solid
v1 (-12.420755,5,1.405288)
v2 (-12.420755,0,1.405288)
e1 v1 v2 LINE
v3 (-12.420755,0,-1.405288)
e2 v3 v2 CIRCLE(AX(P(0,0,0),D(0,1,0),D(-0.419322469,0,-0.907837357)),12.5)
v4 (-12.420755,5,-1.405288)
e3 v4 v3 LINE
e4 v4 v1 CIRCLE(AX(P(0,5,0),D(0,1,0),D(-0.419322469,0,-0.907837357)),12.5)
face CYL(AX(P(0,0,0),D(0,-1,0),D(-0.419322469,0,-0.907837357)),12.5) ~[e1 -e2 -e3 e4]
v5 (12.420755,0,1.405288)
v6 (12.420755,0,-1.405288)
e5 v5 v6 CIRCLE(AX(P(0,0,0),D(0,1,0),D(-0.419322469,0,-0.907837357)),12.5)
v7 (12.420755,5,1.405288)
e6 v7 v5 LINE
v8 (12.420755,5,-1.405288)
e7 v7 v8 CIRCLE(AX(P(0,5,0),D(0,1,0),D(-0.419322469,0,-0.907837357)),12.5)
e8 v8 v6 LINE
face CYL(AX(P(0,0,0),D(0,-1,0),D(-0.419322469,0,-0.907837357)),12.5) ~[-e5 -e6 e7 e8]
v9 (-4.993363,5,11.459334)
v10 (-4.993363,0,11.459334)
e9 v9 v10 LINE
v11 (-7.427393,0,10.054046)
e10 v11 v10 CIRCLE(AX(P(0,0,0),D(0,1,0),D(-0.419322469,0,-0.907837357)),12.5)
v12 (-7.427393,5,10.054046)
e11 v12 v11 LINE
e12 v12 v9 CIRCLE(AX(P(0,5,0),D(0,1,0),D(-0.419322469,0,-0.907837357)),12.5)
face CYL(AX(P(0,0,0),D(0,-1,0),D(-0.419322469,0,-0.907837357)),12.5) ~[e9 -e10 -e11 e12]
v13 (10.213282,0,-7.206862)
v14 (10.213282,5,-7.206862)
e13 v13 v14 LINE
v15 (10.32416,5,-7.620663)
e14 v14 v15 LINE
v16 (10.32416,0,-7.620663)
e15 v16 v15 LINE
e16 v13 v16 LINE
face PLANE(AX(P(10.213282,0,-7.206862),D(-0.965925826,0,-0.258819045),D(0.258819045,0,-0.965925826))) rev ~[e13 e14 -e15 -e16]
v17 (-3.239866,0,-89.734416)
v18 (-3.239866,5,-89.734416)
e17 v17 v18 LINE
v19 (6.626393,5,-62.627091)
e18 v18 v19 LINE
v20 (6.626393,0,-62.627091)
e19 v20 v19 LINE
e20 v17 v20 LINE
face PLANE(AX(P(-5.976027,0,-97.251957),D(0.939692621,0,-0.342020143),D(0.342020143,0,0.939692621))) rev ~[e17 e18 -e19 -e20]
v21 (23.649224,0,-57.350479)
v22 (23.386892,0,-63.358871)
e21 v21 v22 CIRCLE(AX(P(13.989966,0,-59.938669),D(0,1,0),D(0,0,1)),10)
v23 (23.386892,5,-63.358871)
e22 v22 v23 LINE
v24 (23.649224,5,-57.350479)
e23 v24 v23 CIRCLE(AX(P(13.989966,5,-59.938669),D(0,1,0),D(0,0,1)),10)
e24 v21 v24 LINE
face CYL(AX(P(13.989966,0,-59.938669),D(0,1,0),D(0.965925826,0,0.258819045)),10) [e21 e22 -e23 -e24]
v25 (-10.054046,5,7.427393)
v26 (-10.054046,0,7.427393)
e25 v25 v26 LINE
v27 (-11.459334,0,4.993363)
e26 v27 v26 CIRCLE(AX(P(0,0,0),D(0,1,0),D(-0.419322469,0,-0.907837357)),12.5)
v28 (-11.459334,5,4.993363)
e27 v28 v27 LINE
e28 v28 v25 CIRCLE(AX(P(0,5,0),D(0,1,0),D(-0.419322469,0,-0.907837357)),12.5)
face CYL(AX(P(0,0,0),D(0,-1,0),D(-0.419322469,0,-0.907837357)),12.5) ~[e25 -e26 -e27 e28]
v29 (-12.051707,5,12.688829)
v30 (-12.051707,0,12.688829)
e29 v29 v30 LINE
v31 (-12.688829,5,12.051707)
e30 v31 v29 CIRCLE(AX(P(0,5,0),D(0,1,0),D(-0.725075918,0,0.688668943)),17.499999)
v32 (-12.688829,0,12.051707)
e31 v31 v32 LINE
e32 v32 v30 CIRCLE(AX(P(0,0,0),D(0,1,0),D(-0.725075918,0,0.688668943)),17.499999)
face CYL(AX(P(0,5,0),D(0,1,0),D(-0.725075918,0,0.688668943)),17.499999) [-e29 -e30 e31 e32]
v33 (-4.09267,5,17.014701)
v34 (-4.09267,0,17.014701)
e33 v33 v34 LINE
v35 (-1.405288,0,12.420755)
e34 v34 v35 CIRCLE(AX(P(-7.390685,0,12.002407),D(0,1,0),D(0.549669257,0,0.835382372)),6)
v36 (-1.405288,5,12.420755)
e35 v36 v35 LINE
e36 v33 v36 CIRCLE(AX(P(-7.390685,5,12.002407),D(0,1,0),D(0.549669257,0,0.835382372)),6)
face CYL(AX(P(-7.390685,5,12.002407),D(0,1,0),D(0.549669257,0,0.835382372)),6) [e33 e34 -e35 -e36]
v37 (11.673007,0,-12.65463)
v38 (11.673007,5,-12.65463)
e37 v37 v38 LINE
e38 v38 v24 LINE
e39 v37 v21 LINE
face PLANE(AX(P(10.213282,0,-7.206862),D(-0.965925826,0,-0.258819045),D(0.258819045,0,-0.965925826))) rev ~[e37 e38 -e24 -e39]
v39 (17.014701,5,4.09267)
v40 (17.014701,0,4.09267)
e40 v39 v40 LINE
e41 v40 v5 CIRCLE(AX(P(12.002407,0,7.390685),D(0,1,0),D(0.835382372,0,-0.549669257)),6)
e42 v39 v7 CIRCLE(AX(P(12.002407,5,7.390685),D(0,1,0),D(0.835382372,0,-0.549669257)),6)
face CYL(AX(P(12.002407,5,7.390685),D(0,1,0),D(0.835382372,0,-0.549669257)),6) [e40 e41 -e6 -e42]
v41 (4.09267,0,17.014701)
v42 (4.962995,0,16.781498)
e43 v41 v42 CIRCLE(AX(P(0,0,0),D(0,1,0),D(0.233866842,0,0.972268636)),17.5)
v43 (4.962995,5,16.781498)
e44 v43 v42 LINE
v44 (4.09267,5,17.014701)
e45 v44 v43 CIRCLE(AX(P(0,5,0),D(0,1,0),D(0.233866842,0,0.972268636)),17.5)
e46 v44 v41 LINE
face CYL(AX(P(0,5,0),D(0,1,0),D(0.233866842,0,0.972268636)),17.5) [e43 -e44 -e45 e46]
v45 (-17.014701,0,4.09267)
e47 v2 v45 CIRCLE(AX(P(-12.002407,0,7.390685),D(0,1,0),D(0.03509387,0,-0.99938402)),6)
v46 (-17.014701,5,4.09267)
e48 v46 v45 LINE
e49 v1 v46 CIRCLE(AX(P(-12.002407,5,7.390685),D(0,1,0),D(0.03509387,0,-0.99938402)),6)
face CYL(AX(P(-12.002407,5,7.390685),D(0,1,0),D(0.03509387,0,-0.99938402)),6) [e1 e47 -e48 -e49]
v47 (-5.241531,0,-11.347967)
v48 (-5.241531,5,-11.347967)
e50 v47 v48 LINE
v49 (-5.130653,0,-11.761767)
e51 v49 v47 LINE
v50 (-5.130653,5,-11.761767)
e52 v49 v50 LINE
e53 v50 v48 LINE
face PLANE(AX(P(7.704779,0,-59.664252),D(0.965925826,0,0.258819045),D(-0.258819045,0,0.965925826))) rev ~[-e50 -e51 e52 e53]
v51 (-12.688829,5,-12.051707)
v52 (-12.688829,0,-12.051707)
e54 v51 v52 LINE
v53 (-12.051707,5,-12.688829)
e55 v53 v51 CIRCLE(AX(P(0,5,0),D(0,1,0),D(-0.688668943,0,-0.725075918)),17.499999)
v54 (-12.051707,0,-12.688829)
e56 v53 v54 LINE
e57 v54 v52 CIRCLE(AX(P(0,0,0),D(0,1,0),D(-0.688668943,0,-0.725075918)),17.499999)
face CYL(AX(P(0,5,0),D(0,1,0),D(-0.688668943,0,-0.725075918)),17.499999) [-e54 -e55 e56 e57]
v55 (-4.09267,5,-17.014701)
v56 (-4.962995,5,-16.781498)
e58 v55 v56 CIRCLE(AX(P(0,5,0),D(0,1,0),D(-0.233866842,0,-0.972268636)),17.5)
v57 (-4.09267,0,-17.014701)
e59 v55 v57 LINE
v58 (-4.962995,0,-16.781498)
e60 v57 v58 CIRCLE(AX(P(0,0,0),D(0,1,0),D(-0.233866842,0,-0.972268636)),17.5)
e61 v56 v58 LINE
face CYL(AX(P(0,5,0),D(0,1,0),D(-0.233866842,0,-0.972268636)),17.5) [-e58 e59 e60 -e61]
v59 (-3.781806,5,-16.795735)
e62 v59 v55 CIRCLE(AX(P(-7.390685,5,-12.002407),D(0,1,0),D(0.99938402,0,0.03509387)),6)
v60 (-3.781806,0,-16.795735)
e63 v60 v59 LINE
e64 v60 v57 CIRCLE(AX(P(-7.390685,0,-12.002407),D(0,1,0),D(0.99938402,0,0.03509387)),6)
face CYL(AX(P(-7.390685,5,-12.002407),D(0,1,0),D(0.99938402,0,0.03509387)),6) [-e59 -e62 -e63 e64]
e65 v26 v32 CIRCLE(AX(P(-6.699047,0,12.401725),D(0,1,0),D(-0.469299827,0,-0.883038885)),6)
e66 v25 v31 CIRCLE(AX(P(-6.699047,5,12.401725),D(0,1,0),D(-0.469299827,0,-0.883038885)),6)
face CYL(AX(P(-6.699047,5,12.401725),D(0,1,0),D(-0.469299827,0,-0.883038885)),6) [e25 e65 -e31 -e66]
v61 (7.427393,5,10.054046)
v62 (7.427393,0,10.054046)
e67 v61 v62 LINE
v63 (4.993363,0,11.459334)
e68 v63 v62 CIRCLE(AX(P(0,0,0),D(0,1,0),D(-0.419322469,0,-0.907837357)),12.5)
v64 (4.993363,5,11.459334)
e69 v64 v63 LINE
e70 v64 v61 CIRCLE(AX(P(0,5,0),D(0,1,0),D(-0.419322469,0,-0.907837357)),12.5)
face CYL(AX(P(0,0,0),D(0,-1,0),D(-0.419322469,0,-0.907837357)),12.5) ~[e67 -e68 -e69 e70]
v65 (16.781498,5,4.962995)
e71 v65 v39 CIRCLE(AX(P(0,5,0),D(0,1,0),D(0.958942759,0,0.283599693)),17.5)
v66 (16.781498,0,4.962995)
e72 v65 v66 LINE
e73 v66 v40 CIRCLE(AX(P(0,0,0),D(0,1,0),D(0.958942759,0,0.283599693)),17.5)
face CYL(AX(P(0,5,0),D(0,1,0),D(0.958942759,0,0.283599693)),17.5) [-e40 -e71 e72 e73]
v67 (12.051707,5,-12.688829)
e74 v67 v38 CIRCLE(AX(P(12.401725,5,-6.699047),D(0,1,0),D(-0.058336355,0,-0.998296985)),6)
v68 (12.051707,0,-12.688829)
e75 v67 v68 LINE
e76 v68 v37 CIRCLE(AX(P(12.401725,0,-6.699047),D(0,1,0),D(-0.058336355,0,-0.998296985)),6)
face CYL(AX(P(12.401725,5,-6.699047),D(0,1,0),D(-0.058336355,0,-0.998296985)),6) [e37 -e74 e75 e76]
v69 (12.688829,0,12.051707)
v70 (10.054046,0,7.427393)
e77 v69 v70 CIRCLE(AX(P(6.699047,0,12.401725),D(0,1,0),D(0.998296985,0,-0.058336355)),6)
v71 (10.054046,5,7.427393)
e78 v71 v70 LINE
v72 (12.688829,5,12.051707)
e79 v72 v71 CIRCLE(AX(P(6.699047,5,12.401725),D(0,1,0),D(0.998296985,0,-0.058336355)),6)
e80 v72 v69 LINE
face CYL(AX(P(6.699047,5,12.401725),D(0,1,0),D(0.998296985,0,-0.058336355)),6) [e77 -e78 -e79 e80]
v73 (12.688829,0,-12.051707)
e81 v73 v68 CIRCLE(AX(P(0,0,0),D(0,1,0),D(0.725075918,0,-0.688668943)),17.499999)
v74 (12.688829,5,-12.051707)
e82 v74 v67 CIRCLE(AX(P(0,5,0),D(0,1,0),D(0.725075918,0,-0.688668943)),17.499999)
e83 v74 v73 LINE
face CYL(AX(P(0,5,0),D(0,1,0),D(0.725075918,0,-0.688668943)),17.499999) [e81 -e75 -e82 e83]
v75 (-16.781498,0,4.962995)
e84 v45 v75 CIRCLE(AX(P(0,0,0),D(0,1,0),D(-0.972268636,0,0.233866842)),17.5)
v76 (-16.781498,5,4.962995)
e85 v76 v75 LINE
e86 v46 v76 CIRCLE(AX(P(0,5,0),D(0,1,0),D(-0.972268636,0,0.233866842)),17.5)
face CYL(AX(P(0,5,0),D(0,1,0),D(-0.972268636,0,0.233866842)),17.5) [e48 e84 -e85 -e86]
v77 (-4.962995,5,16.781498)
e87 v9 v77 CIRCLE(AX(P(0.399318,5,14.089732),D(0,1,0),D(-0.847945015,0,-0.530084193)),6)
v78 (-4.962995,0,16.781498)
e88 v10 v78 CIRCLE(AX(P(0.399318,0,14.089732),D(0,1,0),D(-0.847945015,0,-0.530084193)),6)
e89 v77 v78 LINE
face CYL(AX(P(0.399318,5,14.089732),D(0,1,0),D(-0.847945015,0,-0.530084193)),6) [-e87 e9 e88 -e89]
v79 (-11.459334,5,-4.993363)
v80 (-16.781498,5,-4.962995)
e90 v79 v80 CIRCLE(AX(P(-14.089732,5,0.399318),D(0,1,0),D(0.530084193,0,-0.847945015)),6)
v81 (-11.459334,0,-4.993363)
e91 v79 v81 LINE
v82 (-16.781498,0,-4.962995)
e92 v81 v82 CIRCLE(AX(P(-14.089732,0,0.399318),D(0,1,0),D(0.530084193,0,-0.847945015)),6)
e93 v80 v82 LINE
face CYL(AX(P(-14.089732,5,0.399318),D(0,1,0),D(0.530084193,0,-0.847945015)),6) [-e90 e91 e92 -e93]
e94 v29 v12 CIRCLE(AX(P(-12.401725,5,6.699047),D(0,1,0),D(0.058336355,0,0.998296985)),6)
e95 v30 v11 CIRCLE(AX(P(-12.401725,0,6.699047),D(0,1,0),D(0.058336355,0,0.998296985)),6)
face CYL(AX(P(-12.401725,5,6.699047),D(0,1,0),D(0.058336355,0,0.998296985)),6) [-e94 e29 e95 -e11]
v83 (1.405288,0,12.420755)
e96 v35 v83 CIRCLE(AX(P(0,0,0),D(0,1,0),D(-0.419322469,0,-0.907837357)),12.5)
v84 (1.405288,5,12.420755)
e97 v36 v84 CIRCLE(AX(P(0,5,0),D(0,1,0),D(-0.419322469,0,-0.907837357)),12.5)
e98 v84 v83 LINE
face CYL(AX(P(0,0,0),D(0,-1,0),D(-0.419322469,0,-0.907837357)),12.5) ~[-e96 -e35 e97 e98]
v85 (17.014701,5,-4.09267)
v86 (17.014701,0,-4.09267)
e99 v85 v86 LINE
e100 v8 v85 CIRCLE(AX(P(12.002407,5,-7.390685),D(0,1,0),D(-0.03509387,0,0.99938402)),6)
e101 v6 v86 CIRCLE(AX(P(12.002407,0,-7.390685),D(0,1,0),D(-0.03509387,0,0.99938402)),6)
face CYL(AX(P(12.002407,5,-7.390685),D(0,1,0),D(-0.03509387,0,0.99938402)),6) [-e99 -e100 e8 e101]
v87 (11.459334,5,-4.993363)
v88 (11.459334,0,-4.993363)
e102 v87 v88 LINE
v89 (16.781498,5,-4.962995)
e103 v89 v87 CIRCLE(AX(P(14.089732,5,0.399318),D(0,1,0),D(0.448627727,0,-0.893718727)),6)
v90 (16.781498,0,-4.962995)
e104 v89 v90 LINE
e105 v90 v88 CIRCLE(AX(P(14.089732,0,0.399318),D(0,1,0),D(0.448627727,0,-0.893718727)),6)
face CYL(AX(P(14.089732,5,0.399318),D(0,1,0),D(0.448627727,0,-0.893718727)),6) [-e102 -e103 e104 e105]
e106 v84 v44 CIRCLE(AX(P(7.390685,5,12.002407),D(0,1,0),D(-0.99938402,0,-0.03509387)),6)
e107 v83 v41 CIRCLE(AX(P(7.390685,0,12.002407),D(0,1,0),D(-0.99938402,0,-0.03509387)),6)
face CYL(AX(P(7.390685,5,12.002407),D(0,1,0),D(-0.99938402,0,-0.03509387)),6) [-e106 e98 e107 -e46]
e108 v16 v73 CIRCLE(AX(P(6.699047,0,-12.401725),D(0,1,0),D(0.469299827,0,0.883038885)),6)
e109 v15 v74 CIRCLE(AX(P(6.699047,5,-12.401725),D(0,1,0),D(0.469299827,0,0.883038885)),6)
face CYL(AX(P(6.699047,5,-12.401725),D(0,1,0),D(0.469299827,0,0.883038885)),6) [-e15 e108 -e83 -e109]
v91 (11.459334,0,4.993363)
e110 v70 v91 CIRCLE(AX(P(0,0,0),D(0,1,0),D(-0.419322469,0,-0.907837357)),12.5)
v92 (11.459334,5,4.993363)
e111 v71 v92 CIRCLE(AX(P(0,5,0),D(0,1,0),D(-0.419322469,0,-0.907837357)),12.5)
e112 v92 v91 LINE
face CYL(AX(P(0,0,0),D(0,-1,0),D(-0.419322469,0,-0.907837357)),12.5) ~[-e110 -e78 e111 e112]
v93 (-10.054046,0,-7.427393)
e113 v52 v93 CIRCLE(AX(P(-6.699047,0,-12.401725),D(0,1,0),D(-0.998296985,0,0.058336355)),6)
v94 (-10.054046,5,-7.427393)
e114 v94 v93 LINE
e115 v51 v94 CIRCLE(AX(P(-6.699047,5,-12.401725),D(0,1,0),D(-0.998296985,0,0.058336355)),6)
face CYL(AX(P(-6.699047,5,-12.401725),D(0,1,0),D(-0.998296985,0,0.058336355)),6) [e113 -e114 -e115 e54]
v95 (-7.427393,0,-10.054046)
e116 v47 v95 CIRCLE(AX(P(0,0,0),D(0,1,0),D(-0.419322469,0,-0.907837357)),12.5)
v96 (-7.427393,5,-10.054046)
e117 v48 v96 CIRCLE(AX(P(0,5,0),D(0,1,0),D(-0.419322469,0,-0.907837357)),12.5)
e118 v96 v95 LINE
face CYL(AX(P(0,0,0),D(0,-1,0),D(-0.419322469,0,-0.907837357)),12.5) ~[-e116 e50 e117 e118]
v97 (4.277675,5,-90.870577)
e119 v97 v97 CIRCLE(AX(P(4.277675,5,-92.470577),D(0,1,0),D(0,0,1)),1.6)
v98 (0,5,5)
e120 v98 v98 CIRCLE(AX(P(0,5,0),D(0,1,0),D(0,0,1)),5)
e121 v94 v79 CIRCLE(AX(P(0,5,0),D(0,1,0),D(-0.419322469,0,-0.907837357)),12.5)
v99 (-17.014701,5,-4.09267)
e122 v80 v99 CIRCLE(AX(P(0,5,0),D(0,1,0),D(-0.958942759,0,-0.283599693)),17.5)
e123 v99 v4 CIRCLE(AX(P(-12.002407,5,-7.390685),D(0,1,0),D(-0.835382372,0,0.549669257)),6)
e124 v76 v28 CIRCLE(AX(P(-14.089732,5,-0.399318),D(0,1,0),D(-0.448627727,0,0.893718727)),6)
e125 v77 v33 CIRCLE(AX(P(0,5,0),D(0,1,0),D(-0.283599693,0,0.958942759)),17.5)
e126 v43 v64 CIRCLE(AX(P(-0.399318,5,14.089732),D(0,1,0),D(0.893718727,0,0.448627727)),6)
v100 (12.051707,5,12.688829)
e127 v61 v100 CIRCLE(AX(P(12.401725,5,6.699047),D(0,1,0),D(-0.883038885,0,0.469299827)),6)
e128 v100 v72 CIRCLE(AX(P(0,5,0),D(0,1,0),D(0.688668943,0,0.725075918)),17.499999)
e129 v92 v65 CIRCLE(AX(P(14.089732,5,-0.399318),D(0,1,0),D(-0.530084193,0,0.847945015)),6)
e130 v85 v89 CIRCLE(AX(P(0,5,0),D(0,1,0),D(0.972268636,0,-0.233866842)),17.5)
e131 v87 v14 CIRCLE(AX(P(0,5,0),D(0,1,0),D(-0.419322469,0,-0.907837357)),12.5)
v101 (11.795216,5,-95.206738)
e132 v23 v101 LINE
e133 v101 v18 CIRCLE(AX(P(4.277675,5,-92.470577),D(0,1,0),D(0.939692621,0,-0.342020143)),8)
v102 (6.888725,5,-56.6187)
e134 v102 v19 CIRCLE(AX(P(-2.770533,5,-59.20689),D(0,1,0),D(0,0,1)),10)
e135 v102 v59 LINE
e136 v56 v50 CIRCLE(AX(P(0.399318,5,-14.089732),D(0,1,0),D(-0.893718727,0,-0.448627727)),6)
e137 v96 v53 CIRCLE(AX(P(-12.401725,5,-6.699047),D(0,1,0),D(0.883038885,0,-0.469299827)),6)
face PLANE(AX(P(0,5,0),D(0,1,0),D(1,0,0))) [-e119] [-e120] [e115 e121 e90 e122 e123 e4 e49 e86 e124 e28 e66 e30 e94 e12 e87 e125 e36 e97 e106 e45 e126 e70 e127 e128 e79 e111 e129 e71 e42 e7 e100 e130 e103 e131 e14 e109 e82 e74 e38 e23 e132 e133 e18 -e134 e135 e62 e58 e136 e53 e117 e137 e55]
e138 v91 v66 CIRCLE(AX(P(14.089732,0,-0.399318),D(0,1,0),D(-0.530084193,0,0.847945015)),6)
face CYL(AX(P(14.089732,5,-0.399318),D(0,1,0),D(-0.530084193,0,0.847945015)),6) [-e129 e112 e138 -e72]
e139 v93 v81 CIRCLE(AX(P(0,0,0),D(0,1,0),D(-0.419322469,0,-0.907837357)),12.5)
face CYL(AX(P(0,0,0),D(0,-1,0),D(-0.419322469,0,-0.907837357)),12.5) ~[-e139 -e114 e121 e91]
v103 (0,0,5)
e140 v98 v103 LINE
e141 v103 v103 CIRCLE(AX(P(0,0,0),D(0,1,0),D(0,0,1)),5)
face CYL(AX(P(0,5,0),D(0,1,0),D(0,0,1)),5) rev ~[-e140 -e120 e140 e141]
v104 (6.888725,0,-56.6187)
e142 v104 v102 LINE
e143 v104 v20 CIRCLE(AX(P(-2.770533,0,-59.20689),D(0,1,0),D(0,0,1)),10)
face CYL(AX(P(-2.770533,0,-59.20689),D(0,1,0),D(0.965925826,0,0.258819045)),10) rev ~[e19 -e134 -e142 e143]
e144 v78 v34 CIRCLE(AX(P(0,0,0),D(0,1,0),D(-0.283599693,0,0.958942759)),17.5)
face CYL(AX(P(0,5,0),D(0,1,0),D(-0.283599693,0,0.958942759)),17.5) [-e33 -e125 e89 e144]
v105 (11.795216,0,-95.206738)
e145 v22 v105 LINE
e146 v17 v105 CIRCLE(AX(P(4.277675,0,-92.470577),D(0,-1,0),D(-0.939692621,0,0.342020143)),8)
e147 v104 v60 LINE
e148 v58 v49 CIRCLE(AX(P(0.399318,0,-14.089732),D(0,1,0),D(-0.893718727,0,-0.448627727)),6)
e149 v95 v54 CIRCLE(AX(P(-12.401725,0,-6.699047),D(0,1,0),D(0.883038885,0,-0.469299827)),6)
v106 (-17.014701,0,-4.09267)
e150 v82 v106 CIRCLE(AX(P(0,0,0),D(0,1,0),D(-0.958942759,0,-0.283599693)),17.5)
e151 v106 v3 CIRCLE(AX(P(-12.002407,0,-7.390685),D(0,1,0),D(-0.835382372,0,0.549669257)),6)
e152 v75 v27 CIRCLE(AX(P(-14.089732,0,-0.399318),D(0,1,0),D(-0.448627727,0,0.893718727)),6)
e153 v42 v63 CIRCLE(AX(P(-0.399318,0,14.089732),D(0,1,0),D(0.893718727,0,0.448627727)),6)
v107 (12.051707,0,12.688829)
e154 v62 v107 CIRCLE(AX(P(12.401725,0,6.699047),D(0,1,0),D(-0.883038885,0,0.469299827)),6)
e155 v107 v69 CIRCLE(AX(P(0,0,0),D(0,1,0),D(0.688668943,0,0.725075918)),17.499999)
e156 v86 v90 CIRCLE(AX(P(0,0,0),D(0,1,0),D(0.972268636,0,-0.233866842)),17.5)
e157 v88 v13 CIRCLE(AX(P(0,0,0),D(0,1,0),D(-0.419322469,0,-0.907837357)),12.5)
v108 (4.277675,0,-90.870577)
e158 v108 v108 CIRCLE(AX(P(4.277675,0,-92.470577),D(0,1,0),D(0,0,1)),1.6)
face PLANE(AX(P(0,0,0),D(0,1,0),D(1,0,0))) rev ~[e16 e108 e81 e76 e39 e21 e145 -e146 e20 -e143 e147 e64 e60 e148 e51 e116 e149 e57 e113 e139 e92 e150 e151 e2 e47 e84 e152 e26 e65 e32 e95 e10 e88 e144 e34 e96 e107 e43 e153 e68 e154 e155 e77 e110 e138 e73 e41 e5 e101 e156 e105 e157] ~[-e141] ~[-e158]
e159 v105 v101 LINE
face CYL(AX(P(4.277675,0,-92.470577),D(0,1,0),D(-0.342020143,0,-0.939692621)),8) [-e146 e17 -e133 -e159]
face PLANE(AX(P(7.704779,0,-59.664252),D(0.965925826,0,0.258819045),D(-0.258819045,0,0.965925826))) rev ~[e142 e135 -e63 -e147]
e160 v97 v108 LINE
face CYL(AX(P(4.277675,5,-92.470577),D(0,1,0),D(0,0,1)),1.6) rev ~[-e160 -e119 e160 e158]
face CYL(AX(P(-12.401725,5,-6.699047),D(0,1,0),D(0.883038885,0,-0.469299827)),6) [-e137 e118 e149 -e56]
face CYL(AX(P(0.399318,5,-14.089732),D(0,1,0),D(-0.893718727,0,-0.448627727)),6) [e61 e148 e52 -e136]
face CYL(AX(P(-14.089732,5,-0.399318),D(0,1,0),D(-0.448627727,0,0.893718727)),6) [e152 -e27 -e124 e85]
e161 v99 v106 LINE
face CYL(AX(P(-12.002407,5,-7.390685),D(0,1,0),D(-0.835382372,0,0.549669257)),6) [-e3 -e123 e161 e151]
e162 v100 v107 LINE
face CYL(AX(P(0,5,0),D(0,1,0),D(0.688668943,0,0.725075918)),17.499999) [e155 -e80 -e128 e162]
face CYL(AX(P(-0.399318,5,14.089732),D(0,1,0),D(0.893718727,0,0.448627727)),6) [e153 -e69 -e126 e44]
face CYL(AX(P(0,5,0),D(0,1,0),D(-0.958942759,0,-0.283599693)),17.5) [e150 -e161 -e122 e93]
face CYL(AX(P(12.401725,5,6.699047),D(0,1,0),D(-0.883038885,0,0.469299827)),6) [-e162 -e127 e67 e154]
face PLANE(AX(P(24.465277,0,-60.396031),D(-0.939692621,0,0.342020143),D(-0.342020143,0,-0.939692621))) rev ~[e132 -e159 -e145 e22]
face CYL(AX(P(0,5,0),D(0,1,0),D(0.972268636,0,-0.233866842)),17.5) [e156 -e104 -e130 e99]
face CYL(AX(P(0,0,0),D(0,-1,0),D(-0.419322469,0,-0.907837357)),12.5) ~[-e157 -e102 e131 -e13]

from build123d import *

# Parameters (mm, degrees)
BOSS_EXTRUDE1_DEPTH = 5
FILLET1_RADIUS      = 8
FILLET1_LENGTH      = 5
FILLET2_R           = 10
SKETCH2_R           = 1.6
CUT_EXTRUDE2_DEPTH  = 104.415933465
BOSS_EXTRUDE3_DEPTH = 5
SKETCH6_R           = 5
CUT_EXTRUDE3_DEPTH  = 104.415933465


with BuildPart() as part:
    # Sketch1 → Boss-Extrude1 (new body)
    with BuildSketch(Plane(origin=(0, 0, 0), x_dir=(1, 0, 0), z_dir=(0, 1, 0))):
        with BuildLine():
            Line((10.213282362, 7.206862244), (24.465277218, 60.396031159))
            Line((24.465277218, 60.396031159), (9.059054894, 102.724279115))
            Line((9.059054894, 102.724279115), (-5.976027039, 97.251956822))
            Line((-5.976027039, 97.251956822), (7.704778694, 59.66425199))
            Line((7.704778694, 59.66425199), (-5.241530859, 11.347966966))
            ThreePointArc((-5.241530859, 11.347966966), (-3.235238064, -12.074072829), (10.213282362, 7.206862244))
        make_face()
    extrude(amount=BOSS_EXTRUDE1_DEPTH)

    # Fillet1: full round fillet: the end face becomes a half cylinder, R = half its width
    fillet1_face = Plane((1.541513928, 2.5, -99.988117968), x_dir=(0, 1, 0), z_dir=(-0.342020143326, 0, -0.939692620786))  # on the end face: x along it, z out of the body
    fillet1_slab = fillet1_face.offset(-FILLET1_RADIUS / 2) * Box(FILLET1_LENGTH, 2 * FILLET1_RADIUS, FILLET1_RADIUS, mode=Mode.PRIVATE)  # the body's end, R deep
    fillet1_round = Plane((4.277675075, 2.5, -92.470577002), x_dir=(-0.342020143326, 0, -0.939692620786), z_dir=(0, 1, 0)) * Cylinder(FILLET1_RADIUS, FILLET1_LENGTH, mode=Mode.PRIVATE)  # its axis R under the face
    add(fillet1_slab - fillet1_round, mode=Mode.SUBTRACT)

    # Fillet2
    fillet2_edges = [part.edges().sort_by_distance(p)[0] for p in [
        (7.704778694, 2.5, -59.66425199),
        (24.465277218, 2.5, -60.396031159),
    ]]
    fillet(fillet2_edges, radius=FILLET2_R)

    # Sketch2 → Cut-Extrude2 (cut, through all)
    with BuildSketch(Plane(origin=(0, 5, 0), x_dir=(1, 0, 0), z_dir=(0, 1, 0))):
        with Locations(Location((4.277675074, 92.470577002, 0), (0, 0, 270))):
            Circle(SKETCH2_R)
    extrude(amount=-CUT_EXTRUDE2_DEPTH, mode=Mode.SUBTRACT)

    # Sketch5 → Boss-Extrude3 (add)
    with BuildSketch(Plane(origin=(0, 5, 0), x_dir=(1, 0, 0), z_dir=(0, 1, 0))):
        with BuildLine():
            ThreePointArc((-12.051706508, -12.688828561), (-9.162245044, -11.749370601), (-7.103491322, -9.514845613))
            ThreePointArc((-7.103491322, -9.514845613), (-5.937, -10.283185645), (-4.688352353, -10.909226747))
            ThreePointArc((-4.688352353, -10.909226747), (-5.594130897, -13.809422264), (-4.962994624, -16.781498275))
            ThreePointArc((-4.962994624, -16.781498275), (-4.529333289, -16.90370196), (-4.092669715, -17.014701132))
            ThreePointArc((-4.092669715, -17.014701132), (-2.060051663, -14.756375941), (-1.394381134, -11.791843675))
            ThreePointArc((-1.394381134, -11.791843675), (0, -11.874), (1.394381134, -11.791843675))
            ThreePointArc((1.394381134, -11.791843675), (2.060051663, -14.756375941), (4.092669715, -17.014701132))
            ThreePointArc((4.092669715, -17.014701132), (4.529333289, -16.90370196), (4.962994624, -16.781498275))
            ThreePointArc((4.962994624, -16.781498275), (5.594130897, -13.809422264), (4.688352353, -10.909226747))
            ThreePointArc((4.688352353, -10.909226747), (5.937, -10.283185645), (7.103491322, -9.514845613))
            ThreePointArc((7.103491322, -9.514845613), (9.162245044, -11.749370601), (12.051706508, -12.688828561))
            ThreePointArc((12.051706508, -12.688828561), (12.374368671, -12.374368671), (12.688828561, -12.051706508))
            ThreePointArc((12.688828561, -12.051706508), (11.749370601, -9.162245044), (9.514845613, -7.103491322))
            ThreePointArc((9.514845613, -7.103491322), (10.283185645, -5.937), (10.909226747, -4.688352353))
            ThreePointArc((10.909226747, -4.688352353), (13.809422264, -5.594130897), (16.781498275, -4.962994624))
            ThreePointArc((16.781498275, -4.962994624), (16.90370196, -4.529333289), (17.014701132, -4.092669715))
            ThreePointArc((17.014701132, -4.092669715), (14.756375941, -2.060051663), (11.791843675, -1.394381134))
            ThreePointArc((11.791843675, -1.394381134), (11.874, 0), (11.791843675, 1.394381134))
            ThreePointArc((11.791843675, 1.394381134), (14.756375941, 2.060051663), (17.014701132, 4.092669715))
            ThreePointArc((17.014701132, 4.092669715), (16.90370196, 4.529333289), (16.781498275, 4.962994624))
            ThreePointArc((16.781498275, 4.962994624), (13.809422264, 5.594130897), (10.909226747, 4.688352353))
            ThreePointArc((10.909226747, 4.688352353), (10.283185645, 5.937), (9.514845613, 7.103491322))
            ThreePointArc((9.514845613, 7.103491322), (11.749370601, 9.162245044), (12.688828561, 12.051706508))
            ThreePointArc((12.688828561, 12.051706508), (12.374368671, 12.374368671), (12.051706508, 12.688828561))
            ThreePointArc((12.051706508, 12.688828561), (9.162245044, 11.749370601), (7.103491322, 9.514845613))
            ThreePointArc((7.103491322, 9.514845613), (5.937, 10.283185645), (4.688352353, 10.909226747))
            ThreePointArc((4.688352353, 10.909226747), (5.594130897, 13.809422264), (4.962994624, 16.781498275))
            ThreePointArc((4.962994624, 16.781498275), (4.529333289, 16.90370196), (4.092669715, 17.014701132))
            ThreePointArc((4.092669715, 17.014701132), (2.060051663, 14.756375941), (1.394381134, 11.791843675))
            ThreePointArc((1.394381134, 11.791843675), (0, 11.874), (-1.394381134, 11.791843675))
            ThreePointArc((-1.394381134, 11.791843675), (-2.060051663, 14.756375941), (-4.092669715, 17.014701132))
            ThreePointArc((-4.092669715, 17.014701132), (-4.529333289, 16.90370196), (-4.962994624, 16.781498275))
            ThreePointArc((-4.962994624, 16.781498275), (-5.594130897, 13.809422264), (-4.688352353, 10.909226747))
            ThreePointArc((-4.688352353, 10.909226747), (-5.937, 10.283185645), (-7.103491322, 9.514845613))
            ThreePointArc((-7.103491322, 9.514845613), (-9.162245044, 11.749370601), (-12.051706508, 12.688828561))
            ThreePointArc((-12.051706508, 12.688828561), (-12.374368671, 12.374368671), (-12.688828561, 12.051706508))
            ThreePointArc((-12.688828561, 12.051706508), (-11.749370601, 9.162245044), (-9.514845613, 7.103491322))
            ThreePointArc((-9.514845613, 7.103491322), (-10.283185645, 5.937), (-10.909226747, 4.688352353))
            ThreePointArc((-10.909226747, 4.688352353), (-13.809422264, 5.594130897), (-16.781498275, 4.962994624))
            ThreePointArc((-16.781498275, 4.962994624), (-16.90370196, 4.529333289), (-17.014701132, 4.092669715))
            ThreePointArc((-17.014701132, 4.092669715), (-14.756375941, 2.060051663), (-11.791843675, 1.394381134))
            ThreePointArc((-11.791843675, 1.394381134), (-11.874, 0), (-11.791843675, -1.394381134))
            ThreePointArc((-11.791843675, -1.394381134), (-14.756375941, -2.060051663), (-17.014701132, -4.092669715))
            ThreePointArc((-17.014701132, -4.092669715), (-16.90370196, -4.529333289), (-16.781498275, -4.962994624))
            ThreePointArc((-16.781498275, -4.962994624), (-13.809422264, -5.594130897), (-10.909226747, -4.688352353))
            ThreePointArc((-10.909226747, -4.688352353), (-10.283185645, -5.937), (-9.514845613, -7.103491322))
            ThreePointArc((-9.514845613, -7.103491322), (-11.749370601, -9.162245044), (-12.688828561, -12.051706508))
            ThreePointArc((-12.688828561, -12.051706508), (-12.374368671, -12.374368671), (-12.051706508, -12.688828561))
        make_face()
    extrude(amount=-BOSS_EXTRUDE3_DEPTH)

    # Sketch6 → Cut-Extrude3 (cut, through all)
    with BuildSketch(Plane(origin=(0, 5, 0), x_dir=(1, 0, 0), z_dir=(0, 1, 0))):
        with Locations(Location((0, 0, 0), (0, 0, 270))):
            Circle(SKETCH6_R)
    extrude(amount=-CUT_EXTRUDE3_DEPTH, mode=Mode.SUBTRACT)


solid = part.part
